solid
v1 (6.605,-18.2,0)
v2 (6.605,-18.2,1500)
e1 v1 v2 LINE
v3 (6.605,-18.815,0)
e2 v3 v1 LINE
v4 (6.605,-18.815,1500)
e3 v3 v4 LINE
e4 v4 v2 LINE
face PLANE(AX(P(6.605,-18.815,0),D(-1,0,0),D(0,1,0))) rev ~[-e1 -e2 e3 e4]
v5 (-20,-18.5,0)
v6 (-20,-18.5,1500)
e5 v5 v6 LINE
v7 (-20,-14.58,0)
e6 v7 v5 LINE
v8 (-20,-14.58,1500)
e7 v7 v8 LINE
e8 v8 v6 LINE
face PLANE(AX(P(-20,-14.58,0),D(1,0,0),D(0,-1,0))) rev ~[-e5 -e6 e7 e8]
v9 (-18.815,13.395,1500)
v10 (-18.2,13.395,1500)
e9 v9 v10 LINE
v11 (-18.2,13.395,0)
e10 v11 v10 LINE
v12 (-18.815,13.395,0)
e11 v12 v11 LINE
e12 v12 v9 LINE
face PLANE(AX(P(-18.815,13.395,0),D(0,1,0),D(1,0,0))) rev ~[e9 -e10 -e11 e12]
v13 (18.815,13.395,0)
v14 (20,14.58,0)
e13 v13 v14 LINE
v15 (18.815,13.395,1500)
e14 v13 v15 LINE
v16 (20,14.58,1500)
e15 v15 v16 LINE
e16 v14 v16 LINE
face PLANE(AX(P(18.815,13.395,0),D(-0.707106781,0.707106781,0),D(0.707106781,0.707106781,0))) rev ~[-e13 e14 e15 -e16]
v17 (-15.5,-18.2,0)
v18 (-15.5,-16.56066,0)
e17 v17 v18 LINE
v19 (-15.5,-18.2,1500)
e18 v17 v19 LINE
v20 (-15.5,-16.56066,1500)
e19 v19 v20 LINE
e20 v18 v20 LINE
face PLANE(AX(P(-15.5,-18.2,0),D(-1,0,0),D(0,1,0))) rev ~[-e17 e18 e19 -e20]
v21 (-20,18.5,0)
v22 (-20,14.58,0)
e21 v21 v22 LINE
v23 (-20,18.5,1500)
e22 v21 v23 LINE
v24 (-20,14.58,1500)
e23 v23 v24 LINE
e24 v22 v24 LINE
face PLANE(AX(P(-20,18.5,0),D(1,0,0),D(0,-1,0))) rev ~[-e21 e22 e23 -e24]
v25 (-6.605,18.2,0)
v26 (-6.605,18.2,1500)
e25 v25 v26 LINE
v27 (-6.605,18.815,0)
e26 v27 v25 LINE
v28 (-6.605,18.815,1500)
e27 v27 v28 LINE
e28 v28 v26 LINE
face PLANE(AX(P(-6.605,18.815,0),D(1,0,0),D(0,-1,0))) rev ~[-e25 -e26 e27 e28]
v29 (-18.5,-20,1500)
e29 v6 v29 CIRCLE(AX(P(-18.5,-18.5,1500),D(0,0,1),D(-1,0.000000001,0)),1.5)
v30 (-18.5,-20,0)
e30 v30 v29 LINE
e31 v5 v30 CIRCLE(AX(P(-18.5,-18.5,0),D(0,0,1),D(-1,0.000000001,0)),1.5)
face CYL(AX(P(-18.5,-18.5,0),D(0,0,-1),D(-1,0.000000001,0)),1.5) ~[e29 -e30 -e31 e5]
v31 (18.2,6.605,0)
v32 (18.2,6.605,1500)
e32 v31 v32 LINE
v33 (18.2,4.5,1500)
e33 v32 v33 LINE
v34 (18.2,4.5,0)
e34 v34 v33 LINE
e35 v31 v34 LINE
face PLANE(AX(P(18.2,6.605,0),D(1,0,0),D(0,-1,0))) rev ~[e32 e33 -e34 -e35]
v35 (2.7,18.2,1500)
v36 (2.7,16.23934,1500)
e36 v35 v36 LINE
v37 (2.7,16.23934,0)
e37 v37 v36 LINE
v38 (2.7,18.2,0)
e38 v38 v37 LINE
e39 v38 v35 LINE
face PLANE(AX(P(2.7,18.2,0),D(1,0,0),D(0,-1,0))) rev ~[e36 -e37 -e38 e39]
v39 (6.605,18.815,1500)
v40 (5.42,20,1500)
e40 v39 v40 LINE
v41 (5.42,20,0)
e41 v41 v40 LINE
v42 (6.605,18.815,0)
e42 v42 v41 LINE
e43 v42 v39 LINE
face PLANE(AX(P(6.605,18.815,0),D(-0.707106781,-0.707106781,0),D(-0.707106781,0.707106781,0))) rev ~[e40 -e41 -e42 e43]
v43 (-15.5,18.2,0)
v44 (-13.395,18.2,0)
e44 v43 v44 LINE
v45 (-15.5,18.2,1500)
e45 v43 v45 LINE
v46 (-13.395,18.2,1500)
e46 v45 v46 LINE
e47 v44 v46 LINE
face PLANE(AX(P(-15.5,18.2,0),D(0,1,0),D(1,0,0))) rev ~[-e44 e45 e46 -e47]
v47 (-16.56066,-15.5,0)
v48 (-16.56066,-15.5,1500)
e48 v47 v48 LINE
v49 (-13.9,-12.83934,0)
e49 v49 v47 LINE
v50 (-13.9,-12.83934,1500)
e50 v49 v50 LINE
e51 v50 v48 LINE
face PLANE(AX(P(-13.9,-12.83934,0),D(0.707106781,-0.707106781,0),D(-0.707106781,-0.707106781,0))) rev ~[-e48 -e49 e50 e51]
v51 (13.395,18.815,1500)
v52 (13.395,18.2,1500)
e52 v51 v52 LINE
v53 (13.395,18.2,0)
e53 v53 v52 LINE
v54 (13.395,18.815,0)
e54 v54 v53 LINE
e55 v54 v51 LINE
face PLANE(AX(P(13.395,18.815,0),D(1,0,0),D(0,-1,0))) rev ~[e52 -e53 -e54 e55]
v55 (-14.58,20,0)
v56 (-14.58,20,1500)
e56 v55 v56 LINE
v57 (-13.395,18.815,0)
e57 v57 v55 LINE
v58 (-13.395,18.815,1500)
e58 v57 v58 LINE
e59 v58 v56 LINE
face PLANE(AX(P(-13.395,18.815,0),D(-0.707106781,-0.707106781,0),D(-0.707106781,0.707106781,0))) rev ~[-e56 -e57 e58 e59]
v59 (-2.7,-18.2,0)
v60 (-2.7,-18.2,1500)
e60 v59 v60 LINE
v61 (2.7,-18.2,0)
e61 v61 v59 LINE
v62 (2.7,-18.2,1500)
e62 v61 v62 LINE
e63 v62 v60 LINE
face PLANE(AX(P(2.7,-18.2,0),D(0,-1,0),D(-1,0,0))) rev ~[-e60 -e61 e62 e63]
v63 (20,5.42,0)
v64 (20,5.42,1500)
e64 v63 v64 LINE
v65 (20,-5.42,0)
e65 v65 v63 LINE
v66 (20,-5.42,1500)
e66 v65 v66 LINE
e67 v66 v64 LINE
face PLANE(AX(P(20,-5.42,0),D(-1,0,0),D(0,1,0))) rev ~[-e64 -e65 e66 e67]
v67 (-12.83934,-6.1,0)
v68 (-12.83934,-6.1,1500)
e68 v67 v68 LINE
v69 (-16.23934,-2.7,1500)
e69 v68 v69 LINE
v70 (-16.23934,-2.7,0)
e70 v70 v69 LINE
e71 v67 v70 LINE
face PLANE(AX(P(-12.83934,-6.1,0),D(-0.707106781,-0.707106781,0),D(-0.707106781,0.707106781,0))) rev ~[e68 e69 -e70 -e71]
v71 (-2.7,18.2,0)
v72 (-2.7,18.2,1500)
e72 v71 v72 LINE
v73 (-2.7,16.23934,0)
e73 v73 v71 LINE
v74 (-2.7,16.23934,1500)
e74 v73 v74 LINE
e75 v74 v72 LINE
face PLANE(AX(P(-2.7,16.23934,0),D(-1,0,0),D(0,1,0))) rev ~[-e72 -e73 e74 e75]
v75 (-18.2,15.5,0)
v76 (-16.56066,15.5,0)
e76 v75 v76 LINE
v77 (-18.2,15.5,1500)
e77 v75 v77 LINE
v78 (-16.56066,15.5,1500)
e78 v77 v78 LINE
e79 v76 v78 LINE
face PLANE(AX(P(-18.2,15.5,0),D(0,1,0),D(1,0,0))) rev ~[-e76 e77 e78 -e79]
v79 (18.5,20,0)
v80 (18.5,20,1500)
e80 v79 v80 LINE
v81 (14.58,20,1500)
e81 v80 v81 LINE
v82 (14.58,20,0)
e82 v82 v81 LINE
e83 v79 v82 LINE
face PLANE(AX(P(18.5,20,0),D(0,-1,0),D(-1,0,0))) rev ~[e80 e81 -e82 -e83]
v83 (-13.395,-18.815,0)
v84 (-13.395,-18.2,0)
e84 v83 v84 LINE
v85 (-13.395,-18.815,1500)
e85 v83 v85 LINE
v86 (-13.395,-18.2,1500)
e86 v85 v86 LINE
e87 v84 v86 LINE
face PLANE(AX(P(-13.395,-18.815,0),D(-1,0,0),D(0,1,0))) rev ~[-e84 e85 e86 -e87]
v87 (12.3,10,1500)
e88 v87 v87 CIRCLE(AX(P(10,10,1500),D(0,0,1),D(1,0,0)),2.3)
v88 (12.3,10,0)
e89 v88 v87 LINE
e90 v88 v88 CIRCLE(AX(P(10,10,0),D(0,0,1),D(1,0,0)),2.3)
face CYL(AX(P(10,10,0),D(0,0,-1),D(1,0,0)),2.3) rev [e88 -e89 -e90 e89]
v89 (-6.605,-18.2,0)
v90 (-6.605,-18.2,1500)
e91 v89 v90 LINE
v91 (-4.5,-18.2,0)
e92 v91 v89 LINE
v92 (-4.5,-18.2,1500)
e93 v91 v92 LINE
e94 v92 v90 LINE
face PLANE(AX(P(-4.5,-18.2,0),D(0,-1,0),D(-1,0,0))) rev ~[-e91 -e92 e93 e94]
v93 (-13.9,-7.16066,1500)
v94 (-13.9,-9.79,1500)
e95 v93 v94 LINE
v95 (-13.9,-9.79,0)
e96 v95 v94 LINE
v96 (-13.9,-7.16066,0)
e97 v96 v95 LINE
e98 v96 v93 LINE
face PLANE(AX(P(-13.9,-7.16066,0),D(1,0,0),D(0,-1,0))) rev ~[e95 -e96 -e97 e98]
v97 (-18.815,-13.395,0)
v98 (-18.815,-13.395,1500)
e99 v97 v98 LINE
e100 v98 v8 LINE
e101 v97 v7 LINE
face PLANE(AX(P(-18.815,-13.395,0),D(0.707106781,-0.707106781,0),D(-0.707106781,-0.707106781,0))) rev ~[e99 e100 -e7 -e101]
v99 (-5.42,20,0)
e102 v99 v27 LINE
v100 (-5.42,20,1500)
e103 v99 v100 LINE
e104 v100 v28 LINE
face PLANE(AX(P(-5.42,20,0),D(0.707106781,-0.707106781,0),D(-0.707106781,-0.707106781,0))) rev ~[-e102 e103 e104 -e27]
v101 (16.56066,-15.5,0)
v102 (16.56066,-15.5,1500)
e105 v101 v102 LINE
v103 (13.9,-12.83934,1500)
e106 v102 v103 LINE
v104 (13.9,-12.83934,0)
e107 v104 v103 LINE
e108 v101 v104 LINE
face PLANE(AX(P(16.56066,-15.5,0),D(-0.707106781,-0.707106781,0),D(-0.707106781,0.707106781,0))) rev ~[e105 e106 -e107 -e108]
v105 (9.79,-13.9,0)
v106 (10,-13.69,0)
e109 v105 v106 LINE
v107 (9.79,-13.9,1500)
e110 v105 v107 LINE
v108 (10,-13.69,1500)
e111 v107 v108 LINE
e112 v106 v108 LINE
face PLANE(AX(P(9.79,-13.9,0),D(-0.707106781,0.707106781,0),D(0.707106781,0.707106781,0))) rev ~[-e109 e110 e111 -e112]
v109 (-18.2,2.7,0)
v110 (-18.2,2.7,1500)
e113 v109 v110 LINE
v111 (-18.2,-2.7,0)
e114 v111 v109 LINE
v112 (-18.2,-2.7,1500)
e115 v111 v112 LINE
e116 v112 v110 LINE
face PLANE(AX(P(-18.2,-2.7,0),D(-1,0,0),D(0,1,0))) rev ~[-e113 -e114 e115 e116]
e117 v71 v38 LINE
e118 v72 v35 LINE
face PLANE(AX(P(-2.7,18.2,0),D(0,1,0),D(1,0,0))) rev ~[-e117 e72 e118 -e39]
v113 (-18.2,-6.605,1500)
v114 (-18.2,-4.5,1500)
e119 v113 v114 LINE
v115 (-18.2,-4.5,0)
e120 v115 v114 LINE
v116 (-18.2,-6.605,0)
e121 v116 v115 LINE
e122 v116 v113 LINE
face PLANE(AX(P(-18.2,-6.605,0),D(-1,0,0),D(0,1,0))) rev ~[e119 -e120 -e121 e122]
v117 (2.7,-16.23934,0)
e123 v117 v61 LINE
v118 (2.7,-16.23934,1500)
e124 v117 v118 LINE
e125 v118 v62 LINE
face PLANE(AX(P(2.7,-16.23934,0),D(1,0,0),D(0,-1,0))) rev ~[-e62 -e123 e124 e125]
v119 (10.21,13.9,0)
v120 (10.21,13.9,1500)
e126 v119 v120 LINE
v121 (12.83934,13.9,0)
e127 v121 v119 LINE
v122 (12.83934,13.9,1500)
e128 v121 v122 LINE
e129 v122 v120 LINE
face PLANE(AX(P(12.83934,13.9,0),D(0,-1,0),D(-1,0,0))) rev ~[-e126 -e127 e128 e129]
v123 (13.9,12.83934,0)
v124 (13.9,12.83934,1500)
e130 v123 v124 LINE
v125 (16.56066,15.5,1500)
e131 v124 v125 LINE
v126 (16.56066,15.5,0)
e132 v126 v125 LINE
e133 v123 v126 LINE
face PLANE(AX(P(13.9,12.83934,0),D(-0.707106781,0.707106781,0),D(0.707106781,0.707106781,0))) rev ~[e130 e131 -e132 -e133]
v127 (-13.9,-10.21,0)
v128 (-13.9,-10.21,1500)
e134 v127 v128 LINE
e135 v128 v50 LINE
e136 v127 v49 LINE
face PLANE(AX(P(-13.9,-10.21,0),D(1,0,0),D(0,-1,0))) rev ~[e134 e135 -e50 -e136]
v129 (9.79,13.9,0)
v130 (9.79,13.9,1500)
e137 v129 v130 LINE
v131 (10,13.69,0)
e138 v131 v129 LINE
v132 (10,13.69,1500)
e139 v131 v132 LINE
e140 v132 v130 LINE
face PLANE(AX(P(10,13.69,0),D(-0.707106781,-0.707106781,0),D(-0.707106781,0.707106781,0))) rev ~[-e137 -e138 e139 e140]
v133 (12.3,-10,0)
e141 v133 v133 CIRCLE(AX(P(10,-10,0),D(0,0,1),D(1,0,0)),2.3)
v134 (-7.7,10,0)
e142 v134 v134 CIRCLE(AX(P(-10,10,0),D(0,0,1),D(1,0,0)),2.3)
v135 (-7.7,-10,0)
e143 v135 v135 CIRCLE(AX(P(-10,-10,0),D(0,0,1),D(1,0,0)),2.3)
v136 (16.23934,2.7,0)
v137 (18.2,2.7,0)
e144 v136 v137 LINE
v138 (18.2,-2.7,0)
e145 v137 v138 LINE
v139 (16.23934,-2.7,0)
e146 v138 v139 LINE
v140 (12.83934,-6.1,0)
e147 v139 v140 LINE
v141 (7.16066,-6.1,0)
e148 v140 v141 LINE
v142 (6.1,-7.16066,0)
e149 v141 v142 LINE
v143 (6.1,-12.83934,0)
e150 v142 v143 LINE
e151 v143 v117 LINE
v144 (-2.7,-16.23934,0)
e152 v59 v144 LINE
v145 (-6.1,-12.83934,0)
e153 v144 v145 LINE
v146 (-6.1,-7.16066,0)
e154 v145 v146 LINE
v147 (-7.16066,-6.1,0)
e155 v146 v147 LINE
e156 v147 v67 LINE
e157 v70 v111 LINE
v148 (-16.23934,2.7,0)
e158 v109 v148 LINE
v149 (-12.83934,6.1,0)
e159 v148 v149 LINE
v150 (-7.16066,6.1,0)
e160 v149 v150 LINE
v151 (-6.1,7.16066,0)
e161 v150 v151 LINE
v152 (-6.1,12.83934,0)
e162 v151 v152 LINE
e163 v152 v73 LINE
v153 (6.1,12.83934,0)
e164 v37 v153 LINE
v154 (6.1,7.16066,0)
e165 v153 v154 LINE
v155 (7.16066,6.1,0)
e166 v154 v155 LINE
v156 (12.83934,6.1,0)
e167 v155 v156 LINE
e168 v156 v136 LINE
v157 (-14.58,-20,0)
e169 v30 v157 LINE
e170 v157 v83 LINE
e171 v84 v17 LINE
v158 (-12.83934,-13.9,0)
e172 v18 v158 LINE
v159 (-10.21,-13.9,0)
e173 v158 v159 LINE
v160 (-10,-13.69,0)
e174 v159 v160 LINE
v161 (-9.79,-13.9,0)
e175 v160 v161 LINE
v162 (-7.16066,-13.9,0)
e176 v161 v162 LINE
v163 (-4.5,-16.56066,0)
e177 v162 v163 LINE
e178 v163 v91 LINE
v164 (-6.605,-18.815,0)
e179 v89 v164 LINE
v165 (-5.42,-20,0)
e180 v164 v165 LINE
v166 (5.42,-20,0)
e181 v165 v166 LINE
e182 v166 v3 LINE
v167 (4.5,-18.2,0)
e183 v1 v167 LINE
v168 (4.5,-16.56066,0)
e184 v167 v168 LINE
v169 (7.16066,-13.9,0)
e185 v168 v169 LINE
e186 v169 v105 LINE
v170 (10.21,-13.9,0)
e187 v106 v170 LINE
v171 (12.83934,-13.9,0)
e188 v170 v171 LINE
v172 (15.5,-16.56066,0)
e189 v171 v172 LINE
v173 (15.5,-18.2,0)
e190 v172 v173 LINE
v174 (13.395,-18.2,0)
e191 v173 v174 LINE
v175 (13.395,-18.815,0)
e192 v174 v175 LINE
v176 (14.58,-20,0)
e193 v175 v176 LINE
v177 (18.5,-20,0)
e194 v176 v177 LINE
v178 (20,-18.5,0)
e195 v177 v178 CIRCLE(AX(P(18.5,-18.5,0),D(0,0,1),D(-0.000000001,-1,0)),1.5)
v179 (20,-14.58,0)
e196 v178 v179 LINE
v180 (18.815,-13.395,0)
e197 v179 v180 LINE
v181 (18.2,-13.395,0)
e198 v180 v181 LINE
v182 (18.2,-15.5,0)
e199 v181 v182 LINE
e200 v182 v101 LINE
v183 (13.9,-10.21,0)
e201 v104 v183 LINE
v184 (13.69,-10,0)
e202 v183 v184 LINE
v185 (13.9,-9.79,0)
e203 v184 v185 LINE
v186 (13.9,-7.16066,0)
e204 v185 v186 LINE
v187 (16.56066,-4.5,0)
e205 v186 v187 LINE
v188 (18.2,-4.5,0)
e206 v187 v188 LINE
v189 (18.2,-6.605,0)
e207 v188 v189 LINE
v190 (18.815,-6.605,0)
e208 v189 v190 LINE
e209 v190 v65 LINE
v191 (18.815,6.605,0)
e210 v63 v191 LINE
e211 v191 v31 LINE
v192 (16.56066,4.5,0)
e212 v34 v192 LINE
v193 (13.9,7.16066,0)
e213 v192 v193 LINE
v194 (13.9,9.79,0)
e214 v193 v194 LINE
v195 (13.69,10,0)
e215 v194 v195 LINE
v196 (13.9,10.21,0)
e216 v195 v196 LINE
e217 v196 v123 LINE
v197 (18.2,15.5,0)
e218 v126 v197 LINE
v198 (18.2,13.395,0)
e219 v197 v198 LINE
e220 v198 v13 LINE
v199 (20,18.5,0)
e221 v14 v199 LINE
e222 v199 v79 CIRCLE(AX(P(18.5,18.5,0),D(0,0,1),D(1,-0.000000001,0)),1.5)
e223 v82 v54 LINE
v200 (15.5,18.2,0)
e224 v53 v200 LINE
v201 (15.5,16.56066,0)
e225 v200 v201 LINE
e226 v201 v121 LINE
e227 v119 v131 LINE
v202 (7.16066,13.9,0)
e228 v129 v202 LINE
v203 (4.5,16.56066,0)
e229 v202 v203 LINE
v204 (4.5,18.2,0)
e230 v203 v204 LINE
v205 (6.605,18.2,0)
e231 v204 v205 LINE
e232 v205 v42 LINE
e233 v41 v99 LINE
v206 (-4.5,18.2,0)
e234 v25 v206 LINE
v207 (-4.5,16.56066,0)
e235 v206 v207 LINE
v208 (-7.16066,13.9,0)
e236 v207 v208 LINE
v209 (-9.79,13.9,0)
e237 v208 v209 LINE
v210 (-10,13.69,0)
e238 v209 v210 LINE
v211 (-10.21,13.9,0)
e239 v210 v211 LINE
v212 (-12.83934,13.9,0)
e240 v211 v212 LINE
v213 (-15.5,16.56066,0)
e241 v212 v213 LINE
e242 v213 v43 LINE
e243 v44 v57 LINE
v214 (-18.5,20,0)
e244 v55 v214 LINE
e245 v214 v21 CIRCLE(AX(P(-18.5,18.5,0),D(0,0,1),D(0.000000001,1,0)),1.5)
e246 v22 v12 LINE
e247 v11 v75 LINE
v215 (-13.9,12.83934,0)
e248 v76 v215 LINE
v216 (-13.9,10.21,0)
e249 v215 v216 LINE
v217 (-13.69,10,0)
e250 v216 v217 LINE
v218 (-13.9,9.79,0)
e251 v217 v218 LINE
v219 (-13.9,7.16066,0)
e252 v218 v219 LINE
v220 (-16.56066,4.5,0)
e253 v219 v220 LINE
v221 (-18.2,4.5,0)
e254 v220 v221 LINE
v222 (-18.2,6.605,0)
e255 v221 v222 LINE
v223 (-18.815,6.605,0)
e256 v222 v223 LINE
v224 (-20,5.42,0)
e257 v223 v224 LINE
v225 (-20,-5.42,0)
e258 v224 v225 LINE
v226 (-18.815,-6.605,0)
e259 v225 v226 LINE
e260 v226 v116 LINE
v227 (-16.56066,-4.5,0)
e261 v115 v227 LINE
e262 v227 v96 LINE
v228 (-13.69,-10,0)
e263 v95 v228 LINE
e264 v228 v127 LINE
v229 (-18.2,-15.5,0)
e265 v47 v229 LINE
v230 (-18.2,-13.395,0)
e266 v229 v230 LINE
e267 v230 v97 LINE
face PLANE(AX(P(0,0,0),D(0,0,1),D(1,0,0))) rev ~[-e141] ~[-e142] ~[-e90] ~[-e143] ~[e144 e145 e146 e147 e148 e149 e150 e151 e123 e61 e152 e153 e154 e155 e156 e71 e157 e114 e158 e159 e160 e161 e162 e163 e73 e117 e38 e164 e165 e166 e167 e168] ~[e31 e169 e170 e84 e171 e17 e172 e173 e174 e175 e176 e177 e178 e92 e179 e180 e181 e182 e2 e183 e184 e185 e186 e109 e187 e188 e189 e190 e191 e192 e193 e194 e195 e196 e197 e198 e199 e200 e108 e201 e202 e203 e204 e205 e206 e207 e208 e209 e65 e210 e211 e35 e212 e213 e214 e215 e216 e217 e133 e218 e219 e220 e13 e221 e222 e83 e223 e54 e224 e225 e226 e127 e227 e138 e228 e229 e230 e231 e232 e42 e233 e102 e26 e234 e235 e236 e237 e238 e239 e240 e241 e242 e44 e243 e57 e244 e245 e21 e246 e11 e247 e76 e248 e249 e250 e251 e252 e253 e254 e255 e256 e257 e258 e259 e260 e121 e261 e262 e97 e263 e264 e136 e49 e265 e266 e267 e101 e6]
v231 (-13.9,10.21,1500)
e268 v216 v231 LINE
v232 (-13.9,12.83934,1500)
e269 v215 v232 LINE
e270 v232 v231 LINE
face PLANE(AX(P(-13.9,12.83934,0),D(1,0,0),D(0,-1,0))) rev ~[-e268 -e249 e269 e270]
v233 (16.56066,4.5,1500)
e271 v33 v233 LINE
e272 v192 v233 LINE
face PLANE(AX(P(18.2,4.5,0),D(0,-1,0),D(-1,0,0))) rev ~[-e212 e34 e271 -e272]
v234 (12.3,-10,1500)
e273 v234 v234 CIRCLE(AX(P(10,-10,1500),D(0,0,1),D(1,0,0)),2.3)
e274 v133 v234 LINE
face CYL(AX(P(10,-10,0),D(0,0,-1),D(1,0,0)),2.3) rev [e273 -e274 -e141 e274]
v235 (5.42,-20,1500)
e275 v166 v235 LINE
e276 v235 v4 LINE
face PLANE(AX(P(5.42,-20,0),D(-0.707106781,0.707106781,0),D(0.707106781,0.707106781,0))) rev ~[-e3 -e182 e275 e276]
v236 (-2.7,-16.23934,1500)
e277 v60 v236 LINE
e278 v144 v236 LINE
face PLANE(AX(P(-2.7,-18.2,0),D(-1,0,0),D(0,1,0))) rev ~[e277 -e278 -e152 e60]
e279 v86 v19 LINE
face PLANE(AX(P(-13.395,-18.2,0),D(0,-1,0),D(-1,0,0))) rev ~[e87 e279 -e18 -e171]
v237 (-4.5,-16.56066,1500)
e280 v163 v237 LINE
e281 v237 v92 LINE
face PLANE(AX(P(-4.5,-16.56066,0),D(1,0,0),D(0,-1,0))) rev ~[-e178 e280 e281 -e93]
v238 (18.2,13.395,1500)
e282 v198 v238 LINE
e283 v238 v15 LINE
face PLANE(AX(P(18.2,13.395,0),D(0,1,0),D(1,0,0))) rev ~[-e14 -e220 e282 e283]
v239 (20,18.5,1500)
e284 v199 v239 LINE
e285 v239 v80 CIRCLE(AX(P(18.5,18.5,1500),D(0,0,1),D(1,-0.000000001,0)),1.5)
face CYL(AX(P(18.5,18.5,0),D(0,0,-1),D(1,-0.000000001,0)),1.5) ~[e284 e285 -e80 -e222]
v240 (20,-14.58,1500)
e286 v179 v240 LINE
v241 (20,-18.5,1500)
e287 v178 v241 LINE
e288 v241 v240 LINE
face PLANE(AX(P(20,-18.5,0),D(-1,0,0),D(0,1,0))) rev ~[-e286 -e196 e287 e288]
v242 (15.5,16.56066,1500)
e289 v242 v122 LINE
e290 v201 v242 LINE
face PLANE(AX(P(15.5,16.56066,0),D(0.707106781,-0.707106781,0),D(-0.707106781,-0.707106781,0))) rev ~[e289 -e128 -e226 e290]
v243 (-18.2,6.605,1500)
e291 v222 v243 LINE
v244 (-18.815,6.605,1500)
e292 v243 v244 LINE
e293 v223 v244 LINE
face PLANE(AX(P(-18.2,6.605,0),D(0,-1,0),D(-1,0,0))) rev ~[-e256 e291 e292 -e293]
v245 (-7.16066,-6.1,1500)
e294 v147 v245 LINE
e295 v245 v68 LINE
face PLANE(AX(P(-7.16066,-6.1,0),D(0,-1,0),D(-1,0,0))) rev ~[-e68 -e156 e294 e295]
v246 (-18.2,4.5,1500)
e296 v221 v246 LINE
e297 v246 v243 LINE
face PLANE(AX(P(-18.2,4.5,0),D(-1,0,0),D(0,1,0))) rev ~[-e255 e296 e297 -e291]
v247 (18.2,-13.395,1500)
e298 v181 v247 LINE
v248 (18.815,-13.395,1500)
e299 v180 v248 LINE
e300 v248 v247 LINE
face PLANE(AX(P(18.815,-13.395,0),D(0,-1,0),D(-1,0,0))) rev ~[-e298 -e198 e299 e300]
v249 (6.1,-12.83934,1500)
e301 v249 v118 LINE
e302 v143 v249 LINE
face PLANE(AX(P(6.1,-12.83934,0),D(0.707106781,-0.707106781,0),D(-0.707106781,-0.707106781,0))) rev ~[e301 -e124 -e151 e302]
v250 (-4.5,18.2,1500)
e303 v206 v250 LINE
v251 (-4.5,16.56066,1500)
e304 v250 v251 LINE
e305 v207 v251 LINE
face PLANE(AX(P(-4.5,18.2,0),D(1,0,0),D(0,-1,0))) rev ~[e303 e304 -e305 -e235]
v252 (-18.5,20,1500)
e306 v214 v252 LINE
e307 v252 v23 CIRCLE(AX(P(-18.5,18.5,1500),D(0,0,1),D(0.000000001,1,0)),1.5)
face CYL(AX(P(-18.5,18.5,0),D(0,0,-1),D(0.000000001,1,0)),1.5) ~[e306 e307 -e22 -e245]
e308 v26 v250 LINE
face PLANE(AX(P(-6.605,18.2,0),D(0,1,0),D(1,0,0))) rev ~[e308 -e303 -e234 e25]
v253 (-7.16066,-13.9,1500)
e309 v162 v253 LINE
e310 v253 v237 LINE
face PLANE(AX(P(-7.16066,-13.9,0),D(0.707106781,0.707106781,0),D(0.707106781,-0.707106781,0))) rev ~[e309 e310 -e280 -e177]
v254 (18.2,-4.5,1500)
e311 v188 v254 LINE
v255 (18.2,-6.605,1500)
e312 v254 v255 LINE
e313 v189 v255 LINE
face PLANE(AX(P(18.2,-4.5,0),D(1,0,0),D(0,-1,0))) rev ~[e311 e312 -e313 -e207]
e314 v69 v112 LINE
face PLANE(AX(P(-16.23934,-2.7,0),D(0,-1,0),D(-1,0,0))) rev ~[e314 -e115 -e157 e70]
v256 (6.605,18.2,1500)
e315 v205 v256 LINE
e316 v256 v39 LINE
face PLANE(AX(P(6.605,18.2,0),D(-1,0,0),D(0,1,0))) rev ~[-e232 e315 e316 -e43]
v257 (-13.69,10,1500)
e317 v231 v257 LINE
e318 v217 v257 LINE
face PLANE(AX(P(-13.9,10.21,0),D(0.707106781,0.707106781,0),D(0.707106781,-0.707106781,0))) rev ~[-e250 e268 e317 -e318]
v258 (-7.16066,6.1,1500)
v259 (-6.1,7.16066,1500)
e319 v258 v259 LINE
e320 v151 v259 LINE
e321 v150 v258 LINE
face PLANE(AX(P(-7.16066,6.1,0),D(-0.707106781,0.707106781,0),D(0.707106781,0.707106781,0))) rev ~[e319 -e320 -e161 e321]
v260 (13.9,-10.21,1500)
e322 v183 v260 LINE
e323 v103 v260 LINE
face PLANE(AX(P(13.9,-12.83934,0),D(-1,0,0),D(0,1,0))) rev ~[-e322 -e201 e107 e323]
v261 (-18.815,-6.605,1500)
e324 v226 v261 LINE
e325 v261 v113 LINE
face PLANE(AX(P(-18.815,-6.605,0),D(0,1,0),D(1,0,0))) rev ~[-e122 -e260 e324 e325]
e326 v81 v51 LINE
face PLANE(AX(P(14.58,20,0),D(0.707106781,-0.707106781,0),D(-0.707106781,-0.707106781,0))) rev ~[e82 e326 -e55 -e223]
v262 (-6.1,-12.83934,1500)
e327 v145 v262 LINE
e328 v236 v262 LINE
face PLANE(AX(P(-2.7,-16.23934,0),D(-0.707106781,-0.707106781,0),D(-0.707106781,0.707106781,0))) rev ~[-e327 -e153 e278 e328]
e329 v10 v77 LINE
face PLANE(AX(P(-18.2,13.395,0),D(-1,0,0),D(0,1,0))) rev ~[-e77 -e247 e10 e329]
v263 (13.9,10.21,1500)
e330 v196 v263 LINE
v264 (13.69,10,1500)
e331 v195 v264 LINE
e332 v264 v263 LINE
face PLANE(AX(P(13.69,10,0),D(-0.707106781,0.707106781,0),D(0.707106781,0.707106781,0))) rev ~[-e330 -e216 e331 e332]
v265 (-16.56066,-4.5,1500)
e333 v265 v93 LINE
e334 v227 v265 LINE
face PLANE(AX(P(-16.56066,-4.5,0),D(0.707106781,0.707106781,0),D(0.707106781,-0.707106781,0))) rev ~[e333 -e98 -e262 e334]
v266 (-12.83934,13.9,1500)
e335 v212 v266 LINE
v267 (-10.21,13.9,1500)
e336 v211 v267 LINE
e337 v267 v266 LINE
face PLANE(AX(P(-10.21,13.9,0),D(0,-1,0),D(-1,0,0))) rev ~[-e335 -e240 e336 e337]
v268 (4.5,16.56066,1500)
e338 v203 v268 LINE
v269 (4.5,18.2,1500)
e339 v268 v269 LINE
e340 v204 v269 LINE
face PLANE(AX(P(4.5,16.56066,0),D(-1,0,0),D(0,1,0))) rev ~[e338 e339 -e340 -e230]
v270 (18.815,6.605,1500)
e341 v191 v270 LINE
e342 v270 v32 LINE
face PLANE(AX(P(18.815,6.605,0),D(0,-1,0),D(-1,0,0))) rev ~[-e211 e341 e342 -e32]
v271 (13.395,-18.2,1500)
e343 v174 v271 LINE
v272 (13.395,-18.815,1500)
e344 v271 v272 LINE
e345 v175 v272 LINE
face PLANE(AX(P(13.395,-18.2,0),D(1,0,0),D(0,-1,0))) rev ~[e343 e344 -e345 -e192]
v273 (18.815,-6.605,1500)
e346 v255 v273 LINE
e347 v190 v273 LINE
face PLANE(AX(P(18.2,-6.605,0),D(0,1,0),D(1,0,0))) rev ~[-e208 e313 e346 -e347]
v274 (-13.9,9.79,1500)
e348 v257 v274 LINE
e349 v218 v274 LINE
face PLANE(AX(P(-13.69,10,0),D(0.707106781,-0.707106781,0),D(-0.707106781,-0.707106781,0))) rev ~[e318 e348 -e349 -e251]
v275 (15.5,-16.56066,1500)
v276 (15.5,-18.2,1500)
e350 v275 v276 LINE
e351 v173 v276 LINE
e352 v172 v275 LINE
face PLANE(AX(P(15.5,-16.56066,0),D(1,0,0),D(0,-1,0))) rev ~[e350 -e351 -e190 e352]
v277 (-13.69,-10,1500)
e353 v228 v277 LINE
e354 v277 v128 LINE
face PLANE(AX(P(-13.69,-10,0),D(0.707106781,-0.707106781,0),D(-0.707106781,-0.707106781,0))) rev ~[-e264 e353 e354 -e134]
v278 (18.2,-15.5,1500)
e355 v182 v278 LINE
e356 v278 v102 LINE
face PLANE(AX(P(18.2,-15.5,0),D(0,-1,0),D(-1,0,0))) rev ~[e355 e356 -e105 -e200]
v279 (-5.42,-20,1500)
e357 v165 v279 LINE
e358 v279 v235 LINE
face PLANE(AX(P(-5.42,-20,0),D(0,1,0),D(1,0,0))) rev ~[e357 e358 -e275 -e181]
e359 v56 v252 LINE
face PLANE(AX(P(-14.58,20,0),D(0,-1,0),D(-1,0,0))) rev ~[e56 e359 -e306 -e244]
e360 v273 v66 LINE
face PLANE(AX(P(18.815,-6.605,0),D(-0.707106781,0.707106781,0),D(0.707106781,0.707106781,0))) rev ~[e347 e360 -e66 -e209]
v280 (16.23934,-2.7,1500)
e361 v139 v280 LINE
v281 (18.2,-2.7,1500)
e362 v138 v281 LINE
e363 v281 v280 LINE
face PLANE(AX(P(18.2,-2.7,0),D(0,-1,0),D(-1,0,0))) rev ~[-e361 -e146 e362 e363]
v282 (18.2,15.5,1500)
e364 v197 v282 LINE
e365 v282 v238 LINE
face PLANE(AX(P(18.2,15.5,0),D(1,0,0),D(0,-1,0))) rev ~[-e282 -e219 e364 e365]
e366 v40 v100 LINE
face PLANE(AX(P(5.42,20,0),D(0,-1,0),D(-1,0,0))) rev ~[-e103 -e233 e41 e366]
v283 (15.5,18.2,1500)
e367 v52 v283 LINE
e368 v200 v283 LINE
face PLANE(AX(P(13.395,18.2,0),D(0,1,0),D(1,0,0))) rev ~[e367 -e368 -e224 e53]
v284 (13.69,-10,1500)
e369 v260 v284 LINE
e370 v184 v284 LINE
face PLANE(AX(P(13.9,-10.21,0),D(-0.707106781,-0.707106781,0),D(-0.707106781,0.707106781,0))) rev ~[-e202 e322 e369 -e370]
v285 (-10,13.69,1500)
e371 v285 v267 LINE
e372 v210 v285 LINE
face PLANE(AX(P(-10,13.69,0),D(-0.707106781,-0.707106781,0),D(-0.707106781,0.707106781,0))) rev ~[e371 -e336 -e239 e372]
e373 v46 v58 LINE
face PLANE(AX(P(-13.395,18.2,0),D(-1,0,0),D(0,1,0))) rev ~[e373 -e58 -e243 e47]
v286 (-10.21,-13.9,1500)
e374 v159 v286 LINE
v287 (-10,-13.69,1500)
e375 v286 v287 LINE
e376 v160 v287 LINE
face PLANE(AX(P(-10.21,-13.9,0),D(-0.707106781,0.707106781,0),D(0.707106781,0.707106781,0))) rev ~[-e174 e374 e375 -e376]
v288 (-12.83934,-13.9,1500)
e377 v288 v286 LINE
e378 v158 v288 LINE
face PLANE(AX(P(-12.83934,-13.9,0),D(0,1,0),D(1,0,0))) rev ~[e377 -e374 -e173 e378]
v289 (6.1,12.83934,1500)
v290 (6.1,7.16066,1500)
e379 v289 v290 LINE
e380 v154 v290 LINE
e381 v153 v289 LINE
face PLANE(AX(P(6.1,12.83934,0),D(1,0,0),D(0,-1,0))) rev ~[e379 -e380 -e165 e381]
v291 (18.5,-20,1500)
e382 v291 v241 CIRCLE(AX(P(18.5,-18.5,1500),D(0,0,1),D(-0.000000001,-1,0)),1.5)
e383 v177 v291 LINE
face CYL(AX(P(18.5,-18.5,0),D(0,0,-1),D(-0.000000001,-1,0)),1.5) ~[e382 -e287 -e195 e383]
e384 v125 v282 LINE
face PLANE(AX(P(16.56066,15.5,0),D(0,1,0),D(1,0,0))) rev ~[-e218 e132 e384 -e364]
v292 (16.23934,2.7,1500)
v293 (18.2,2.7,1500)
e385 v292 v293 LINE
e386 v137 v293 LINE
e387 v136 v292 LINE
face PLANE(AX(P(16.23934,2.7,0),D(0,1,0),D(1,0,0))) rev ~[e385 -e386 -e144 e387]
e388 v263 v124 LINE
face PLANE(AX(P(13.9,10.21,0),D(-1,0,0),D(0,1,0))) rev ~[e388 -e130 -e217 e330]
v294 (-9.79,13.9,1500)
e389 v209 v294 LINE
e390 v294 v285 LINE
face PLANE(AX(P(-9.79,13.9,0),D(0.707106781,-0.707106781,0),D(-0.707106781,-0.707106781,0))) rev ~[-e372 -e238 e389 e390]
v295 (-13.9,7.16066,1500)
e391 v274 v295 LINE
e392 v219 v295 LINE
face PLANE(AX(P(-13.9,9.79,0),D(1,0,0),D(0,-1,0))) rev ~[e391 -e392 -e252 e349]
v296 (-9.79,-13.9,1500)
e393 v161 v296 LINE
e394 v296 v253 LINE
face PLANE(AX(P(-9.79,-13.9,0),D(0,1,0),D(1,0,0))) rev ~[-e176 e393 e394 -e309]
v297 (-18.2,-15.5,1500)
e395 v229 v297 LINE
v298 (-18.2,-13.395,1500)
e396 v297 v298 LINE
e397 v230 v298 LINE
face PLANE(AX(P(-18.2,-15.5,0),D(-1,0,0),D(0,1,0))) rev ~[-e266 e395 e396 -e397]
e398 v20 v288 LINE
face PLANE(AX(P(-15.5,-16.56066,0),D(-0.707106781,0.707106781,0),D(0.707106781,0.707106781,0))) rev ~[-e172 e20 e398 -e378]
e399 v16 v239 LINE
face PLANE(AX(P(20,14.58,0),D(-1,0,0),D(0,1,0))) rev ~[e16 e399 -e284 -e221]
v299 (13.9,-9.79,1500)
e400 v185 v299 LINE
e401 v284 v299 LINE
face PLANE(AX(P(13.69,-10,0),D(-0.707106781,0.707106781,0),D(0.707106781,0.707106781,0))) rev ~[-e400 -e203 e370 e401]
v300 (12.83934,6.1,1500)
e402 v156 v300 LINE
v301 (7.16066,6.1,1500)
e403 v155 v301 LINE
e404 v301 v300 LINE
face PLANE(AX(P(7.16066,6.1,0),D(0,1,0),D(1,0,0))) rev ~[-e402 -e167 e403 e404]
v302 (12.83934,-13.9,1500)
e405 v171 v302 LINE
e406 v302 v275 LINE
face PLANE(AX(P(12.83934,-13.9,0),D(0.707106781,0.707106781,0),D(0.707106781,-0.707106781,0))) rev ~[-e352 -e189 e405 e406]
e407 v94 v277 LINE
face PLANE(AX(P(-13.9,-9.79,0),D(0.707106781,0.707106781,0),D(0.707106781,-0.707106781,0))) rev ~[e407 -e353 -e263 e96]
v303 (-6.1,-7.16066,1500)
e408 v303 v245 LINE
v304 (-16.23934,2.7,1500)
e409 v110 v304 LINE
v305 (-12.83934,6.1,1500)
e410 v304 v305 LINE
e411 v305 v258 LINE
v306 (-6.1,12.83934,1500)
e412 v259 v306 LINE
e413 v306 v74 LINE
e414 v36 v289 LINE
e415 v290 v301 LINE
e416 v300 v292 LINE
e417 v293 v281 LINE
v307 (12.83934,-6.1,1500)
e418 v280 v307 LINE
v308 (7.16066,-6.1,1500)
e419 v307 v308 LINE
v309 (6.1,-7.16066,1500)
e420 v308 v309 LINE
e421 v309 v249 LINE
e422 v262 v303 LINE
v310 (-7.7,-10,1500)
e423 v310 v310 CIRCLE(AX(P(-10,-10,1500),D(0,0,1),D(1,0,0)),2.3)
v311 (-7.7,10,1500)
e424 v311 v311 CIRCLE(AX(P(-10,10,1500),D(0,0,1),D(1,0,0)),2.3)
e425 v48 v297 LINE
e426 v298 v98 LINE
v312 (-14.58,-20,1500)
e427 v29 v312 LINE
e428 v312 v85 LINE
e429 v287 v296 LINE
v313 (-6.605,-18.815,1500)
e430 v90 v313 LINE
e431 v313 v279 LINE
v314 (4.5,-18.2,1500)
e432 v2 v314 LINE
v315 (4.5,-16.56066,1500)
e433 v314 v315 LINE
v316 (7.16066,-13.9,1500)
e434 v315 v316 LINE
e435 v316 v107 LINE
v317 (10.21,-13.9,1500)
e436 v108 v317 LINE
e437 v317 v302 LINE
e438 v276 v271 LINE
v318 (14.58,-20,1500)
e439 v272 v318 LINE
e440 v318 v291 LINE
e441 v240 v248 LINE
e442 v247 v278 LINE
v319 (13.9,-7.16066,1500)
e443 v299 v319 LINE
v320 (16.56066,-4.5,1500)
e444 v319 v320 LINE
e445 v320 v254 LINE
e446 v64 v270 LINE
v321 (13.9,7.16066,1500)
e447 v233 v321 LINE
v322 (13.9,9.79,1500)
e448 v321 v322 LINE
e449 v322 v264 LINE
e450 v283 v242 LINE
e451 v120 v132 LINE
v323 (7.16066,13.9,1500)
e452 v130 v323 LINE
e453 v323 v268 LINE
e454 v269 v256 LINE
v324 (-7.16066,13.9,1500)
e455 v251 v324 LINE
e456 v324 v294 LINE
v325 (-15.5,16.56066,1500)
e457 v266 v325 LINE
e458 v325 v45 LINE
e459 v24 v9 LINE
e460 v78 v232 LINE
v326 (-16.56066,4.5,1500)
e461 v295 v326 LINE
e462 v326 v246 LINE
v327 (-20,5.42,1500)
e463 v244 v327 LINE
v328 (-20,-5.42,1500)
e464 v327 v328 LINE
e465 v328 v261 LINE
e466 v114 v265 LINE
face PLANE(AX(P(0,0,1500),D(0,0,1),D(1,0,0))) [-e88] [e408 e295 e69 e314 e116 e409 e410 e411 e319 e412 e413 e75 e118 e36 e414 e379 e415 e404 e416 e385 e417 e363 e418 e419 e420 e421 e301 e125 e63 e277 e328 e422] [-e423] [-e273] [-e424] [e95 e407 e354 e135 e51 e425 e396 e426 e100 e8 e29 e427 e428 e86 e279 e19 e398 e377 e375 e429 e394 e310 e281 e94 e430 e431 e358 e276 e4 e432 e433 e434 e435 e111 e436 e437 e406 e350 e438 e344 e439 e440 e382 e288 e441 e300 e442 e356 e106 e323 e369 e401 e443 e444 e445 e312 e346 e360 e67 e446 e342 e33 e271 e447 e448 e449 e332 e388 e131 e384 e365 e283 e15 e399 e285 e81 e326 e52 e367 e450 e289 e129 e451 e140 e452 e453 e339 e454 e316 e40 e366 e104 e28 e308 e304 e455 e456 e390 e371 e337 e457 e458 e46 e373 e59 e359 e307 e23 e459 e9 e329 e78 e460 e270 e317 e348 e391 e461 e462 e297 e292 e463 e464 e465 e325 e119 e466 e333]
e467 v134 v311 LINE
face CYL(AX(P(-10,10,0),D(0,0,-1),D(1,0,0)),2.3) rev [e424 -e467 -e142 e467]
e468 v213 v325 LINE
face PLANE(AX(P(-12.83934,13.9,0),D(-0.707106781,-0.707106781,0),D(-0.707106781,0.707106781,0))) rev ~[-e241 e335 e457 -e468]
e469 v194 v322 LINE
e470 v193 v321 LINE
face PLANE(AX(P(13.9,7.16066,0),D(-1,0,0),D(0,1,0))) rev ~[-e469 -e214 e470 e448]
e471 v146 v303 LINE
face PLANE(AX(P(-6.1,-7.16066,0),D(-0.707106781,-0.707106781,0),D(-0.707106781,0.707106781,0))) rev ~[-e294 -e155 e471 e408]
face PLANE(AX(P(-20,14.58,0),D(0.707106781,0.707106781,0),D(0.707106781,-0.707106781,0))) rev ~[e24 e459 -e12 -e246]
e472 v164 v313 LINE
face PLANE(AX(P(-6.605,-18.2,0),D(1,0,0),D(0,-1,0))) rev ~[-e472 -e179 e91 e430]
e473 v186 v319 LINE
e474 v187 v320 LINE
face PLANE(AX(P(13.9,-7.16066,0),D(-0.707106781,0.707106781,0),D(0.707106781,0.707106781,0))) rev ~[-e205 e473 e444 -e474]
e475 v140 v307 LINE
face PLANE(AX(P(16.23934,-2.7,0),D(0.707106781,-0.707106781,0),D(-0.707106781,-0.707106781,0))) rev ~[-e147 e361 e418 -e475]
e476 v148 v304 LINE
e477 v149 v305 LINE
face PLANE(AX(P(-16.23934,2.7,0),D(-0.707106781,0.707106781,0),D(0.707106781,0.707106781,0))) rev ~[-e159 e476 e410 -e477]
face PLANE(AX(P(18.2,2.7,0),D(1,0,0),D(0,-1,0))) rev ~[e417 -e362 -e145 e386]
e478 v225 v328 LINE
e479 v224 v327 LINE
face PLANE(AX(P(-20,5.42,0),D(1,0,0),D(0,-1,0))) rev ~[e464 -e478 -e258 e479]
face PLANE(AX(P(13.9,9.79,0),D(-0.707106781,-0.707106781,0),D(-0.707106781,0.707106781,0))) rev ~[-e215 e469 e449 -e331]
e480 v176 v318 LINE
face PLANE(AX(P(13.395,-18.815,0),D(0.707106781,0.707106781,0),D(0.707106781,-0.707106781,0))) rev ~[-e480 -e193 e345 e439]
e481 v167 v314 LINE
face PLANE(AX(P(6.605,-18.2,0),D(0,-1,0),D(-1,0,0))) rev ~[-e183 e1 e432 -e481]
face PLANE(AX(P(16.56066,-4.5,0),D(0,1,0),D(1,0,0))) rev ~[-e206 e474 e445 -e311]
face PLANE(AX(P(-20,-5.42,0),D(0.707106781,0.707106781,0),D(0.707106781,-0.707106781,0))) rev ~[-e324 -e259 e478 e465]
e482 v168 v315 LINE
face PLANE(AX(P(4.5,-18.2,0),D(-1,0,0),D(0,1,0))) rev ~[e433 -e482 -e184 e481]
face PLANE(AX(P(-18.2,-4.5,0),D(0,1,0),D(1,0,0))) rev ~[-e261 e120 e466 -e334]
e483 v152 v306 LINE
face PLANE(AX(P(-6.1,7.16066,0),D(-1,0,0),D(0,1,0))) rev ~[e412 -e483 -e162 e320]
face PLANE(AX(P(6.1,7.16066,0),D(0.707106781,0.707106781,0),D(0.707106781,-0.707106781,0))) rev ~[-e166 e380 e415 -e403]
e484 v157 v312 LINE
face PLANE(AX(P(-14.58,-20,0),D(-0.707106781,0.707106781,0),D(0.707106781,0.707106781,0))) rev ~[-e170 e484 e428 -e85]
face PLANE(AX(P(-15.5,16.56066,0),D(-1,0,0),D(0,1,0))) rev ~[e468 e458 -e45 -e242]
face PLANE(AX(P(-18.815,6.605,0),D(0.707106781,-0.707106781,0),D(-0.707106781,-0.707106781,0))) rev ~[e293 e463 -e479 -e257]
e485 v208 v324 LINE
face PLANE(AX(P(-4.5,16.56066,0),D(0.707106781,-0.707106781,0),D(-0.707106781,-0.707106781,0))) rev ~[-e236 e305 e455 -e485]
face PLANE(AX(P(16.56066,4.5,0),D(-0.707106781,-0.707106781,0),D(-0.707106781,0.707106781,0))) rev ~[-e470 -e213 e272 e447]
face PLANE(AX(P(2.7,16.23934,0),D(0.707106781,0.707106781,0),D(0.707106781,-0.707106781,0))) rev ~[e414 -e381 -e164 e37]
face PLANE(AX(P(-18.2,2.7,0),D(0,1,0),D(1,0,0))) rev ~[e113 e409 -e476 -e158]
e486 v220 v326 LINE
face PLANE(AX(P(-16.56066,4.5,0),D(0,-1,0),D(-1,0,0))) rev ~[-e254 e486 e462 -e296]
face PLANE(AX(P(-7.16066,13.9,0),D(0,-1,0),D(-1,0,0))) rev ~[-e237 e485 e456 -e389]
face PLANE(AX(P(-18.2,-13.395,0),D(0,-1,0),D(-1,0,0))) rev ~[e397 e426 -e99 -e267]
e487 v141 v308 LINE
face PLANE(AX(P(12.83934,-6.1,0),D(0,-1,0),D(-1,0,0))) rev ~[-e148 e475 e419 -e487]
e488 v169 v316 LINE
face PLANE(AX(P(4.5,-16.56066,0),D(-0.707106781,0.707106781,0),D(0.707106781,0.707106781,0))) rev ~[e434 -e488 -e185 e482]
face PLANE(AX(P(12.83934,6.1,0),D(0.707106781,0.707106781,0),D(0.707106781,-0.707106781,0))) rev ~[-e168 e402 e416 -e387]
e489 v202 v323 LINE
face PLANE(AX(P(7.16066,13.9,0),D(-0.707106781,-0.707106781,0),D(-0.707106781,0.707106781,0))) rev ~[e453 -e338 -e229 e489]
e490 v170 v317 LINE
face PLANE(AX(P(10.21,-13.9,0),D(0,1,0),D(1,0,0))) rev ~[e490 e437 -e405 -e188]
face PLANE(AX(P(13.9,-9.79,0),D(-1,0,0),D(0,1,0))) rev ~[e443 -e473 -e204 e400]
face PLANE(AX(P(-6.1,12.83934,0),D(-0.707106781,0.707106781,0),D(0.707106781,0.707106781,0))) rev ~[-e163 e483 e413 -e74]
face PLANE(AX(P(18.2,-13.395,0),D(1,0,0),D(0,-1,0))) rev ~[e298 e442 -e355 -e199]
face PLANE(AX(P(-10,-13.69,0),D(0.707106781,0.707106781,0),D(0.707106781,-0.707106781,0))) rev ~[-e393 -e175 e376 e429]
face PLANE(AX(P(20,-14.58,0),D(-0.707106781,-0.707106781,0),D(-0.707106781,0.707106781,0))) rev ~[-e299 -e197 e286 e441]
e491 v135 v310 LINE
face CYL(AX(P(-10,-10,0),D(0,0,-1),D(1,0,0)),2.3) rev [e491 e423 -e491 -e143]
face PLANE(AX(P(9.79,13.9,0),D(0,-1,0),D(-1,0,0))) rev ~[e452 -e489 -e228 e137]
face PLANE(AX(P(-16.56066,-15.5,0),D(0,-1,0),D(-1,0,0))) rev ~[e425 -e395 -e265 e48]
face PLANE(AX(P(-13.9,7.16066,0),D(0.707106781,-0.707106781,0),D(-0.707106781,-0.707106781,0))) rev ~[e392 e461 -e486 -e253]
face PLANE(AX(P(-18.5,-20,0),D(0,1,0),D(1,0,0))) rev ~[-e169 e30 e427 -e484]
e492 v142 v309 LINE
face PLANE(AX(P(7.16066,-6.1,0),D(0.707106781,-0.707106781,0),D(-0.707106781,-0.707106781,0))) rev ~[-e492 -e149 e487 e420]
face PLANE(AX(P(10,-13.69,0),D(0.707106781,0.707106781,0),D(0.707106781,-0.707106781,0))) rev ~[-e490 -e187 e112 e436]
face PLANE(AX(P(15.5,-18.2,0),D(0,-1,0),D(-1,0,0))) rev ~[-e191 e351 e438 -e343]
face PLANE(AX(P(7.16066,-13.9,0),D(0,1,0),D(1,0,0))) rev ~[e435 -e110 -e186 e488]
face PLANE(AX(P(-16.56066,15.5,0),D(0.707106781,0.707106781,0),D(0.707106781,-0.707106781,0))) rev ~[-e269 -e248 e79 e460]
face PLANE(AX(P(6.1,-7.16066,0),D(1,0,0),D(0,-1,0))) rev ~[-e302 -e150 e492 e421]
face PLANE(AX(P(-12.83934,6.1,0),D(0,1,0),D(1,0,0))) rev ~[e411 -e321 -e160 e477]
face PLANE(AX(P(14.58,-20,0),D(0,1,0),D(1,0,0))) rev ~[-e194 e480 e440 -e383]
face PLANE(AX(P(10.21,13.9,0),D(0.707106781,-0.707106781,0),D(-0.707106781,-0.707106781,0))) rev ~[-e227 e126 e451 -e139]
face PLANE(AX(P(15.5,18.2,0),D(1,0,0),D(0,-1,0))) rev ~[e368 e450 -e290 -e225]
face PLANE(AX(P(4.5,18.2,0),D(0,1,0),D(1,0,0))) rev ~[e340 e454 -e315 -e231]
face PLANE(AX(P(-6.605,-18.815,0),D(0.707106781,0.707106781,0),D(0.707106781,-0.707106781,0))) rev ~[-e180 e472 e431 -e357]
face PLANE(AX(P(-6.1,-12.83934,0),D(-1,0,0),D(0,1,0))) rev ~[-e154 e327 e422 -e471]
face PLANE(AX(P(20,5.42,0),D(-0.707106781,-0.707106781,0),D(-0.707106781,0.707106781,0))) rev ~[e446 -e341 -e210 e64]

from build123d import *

# Parameters (mm, degrees)
SKETCH1_R           = 2.3
BOSS_EXTRUDE1_DEPTH = 1500


with BuildPart() as part:
    # Sketch1 → Boss-Extrude1 (new body)
    with BuildSketch(Plane.XY):
        with BuildLine():
            Line((14.58, -20), (18.5, -20))
            ThreePointArc((18.5, -20), (19.560660172, -19.560660172), (20, -18.5))
            Line((20, -18.5), (20, -14.58))
            Line((20, -14.58), (18.815, -13.395))
            Line((18.815, -13.395), (18.2, -13.395))
            Line((18.2, -13.395), (18.2, -15.5))
            Line((18.2, -15.5), (16.560660172, -15.5))
            Line((16.560660172, -15.5), (13.9, -12.839339828))
            Line((13.9, -12.839339828), (13.9, -10.21))
            Line((13.9, -10.21), (13.69, -10))
            Line((13.69, -10), (13.9, -9.79))
            Line((13.9, -9.79), (13.9, -7.160660172))
            Line((13.9, -7.160660172), (16.560660172, -4.5))
            Line((16.560660172, -4.5), (18.2, -4.5))
            Line((18.2, -4.5), (18.2, -6.605))
            Line((18.2, -6.605), (18.815, -6.605))
            Line((18.815, -6.605), (20, -5.42))
            Line((20, -5.42), (20, 5.42))
            Line((20, 5.42), (18.815, 6.605))
            Line((18.815, 6.605), (18.2, 6.605))
            Line((18.2, 6.605), (18.2, 4.5))
            Line((18.2, 4.5), (16.560660172, 4.5))
            Line((16.560660172, 4.5), (13.9, 7.160660172))
            Line((13.9, 7.160660172), (13.9, 9.79))
            Line((13.9, 9.79), (13.69, 10))
            Line((13.69, 10), (13.9, 10.21))
            Line((13.9, 10.21), (13.9, 12.839339828))
            Line((13.9, 12.839339828), (16.560660172, 15.5))
            Line((16.560660172, 15.5), (18.2, 15.5))
            Line((18.2, 15.5), (18.2, 13.395))
            Line((18.2, 13.395), (18.815, 13.395))
            Line((18.815, 13.395), (20, 14.58))
            Line((20, 14.58), (20, 18.5))
            ThreePointArc((20, 18.5), (19.560660172, 19.560660172), (18.5, 20))
            Line((18.5, 20), (14.58, 20))
            Line((14.58, 20), (13.395, 18.815))
            Line((13.395, 18.815), (13.395, 18.2))
            Line((13.395, 18.2), (15.5, 18.2))
            Line((15.5, 18.2), (15.5, 16.560660172))
            Line((15.5, 16.560660172), (12.839339828, 13.9))
            Line((12.839339828, 13.9), (10.21, 13.9))
            Line((10.21, 13.9), (10, 13.69))
            Line((10, 13.69), (9.79, 13.9))
            Line((9.79, 13.9), (7.160660172, 13.9))
            Line((7.160660172, 13.9), (4.5, 16.560660172))
            Line((4.5, 16.560660172), (4.5, 18.2))
            Line((4.5, 18.2), (6.605, 18.2))
            Line((6.605, 18.2), (6.605, 18.815))
            Line((6.605, 18.815), (5.42, 20))
            Line((5.42, 20), (-5.42, 20))
            Line((-5.42, 20), (-6.605, 18.815))
            Line((-6.605, 18.815), (-6.605, 18.2))
            Line((-6.605, 18.2), (-4.5, 18.2))
            Line((-4.5, 18.2), (-4.5, 16.560660172))
            Line((-4.5, 16.560660172), (-7.160660172, 13.9))
            Line((-7.160660172, 13.9), (-9.79, 13.9))
            Line((-9.79, 13.9), (-10, 13.69))
            Line((-10, 13.69), (-10.21, 13.9))
            Line((-10.21, 13.9), (-12.839339828, 13.9))
            Line((-12.839339828, 13.9), (-15.5, 16.560660172))
            Line((-15.5, 16.560660172), (-15.5, 18.2))
            Line((-15.5, 18.2), (-13.395, 18.2))
            Line((-13.395, 18.2), (-13.395, 18.815))
            Line((-13.395, 18.815), (-14.58, 20))
            Line((-14.58, 20), (-18.5, 20))
            ThreePointArc((-18.5, 20), (-19.560660172, 19.560660172), (-20, 18.5))
            Line((-20, 18.5), (-20, 14.58))
            Line((-20, 14.58), (-18.815, 13.395))
            Line((-18.815, 13.395), (-18.2, 13.395))
            Line((-18.2, 13.395), (-18.2, 15.5))
            Line((-18.2, 15.5), (-16.560660172, 15.5))
            Line((-16.560660172, 15.5), (-13.9, 12.839339828))
            Line((-13.9, 12.839339828), (-13.9, 10.21))
            Line((-13.9, 10.21), (-13.69, 10))
            Line((-13.69, 10), (-13.9, 9.79))
            Line((-13.9, 9.79), (-13.9, 7.160660172))
            Line((-13.9, 7.160660172), (-16.560660172, 4.5))
            Line((-16.560660172, 4.5), (-18.2, 4.5))
            Line((-18.2, 4.5), (-18.2, 6.605))
            Line((-18.2, 6.605), (-18.815, 6.605))
            Line((-18.815, 6.605), (-20, 5.42))
            Line((-20, 5.42), (-20, -5.42))
            Line((-20, -5.42), (-18.815, -6.605))
            Line((-18.815, -6.605), (-18.2, -6.605))
            Line((-18.2, -6.605), (-18.2, -4.5))
            Line((-18.2, -4.5), (-16.560660172, -4.5))
            Line((-16.560660172, -4.5), (-13.9, -7.160660172))
            Line((-13.9, -7.160660172), (-13.9, -9.79))
            Line((-13.9, -9.79), (-13.69, -10))
            Line((-13.69, -10), (-13.9, -10.21))
            Line((-13.9, -10.21), (-13.9, -12.839339828))
            Line((-13.9, -12.839339828), (-16.560660172, -15.5))
            Line((-16.560660172, -15.5), (-18.2, -15.5))
            Line((-18.2, -15.5), (-18.2, -13.395))
            Line((-18.2, -13.395), (-18.815, -13.395))
            Line((-18.815, -13.395), (-20, -14.58))
            Line((-20, -14.58), (-20, -18.5))
            ThreePointArc((-20, -18.5), (-19.560660172, -19.560660172), (-18.5, -20))
            Line((-18.5, -20), (-14.58, -20))
            Line((-14.58, -20), (-13.395, -18.815))
            Line((-13.395, -18.815), (-13.395, -18.2))
            Line((-13.395, -18.2), (-15.5, -18.2))
            Line((-15.5, -18.2), (-15.5, -16.560660172))
            Line((-15.5, -16.560660172), (-12.839339828, -13.9))
            Line((-12.839339828, -13.9), (-10.21, -13.9))
            Line((-10.21, -13.9), (-10, -13.69))
            Line((-10, -13.69), (-9.79, -13.9))
            Line((-9.79, -13.9), (-7.160660172, -13.9))
            Line((-7.160660172, -13.9), (-4.5, -16.560660172))
            Line((-4.5, -16.560660172), (-4.5, -18.2))
            Line((-4.5, -18.2), (-6.605, -18.2))
            Line((-6.605, -18.2), (-6.605, -18.815))
            Line((-6.605, -18.815), (-5.42, -20))
            Line((-5.42, -20), (5.42, -20))
            Line((5.42, -20), (6.605, -18.815))
            Line((6.605, -18.815), (6.605, -18.2))
            Line((6.605, -18.2), (4.5, -18.2))
            Line((4.5, -18.2), (4.5, -16.560660172))
            Line((4.5, -16.560660172), (7.160660172, -13.9))
            Line((7.160660172, -13.9), (9.79, -13.9))
            Line((9.79, -13.9), (10, -13.69))
            Line((10, -13.69), (10.21, -13.9))
            Line((10.21, -13.9), (12.839339828, -13.9))
            Line((12.839339828, -13.9), (15.5, -16.560660172))
            Line((15.5, -16.560660172), (15.5, -18.2))
            Line((15.5, -18.2), (13.395, -18.2))
            Line((13.395, -18.2), (13.395, -18.815))
            Line((13.395, -18.815), (14.58, -20))
        make_face()
        with Locations((-10, -10)):
            Circle(SKETCH1_R, mode=Mode.SUBTRACT)
        with Locations((10, -10)):
            Circle(SKETCH1_R, mode=Mode.SUBTRACT)
        Polygon((-16.239339828, -2.7), (-18.2, -2.7), (-18.2, 2.7), (-16.239339828, 2.7), (-12.839339828, 6.1), (-7.160660172, 6.1), (-6.1, 7.160660172), (-6.1, 12.839339828), (-2.7, 16.239339828), (-2.7, 18.2), (2.7, 18.2), (2.7, 16.239339828), (6.1, 12.839339828), (6.1, 7.160660172), (7.160660172, 6.1), (12.839339828, 6.1), (16.239339828, 2.7), (18.2, 2.7), (18.2, -2.7), (16.239339828, -2.7), (12.839339828, -6.1), (7.160660172, -6.1), (6.1, -7.160660172), (6.1, -12.839339828), (2.7, -16.239339828), (2.7, -18.2), (-2.7, -18.2), (-2.7, -16.239339828), (-6.1, -12.839339828), (-6.1, -7.160660172), (-7.160660172, -6.1), (-12.839339828, -6.1), align=None, mode=Mode.SUBTRACT)
        with Locations((-10, 10)):
            Circle(SKETCH1_R, mode=Mode.SUBTRACT)
        with Locations((10, 10)):
            Circle(SKETCH1_R, mode=Mode.SUBTRACT)
    extrude(amount=BOSS_EXTRUDE1_DEPTH)


solid = part.part
